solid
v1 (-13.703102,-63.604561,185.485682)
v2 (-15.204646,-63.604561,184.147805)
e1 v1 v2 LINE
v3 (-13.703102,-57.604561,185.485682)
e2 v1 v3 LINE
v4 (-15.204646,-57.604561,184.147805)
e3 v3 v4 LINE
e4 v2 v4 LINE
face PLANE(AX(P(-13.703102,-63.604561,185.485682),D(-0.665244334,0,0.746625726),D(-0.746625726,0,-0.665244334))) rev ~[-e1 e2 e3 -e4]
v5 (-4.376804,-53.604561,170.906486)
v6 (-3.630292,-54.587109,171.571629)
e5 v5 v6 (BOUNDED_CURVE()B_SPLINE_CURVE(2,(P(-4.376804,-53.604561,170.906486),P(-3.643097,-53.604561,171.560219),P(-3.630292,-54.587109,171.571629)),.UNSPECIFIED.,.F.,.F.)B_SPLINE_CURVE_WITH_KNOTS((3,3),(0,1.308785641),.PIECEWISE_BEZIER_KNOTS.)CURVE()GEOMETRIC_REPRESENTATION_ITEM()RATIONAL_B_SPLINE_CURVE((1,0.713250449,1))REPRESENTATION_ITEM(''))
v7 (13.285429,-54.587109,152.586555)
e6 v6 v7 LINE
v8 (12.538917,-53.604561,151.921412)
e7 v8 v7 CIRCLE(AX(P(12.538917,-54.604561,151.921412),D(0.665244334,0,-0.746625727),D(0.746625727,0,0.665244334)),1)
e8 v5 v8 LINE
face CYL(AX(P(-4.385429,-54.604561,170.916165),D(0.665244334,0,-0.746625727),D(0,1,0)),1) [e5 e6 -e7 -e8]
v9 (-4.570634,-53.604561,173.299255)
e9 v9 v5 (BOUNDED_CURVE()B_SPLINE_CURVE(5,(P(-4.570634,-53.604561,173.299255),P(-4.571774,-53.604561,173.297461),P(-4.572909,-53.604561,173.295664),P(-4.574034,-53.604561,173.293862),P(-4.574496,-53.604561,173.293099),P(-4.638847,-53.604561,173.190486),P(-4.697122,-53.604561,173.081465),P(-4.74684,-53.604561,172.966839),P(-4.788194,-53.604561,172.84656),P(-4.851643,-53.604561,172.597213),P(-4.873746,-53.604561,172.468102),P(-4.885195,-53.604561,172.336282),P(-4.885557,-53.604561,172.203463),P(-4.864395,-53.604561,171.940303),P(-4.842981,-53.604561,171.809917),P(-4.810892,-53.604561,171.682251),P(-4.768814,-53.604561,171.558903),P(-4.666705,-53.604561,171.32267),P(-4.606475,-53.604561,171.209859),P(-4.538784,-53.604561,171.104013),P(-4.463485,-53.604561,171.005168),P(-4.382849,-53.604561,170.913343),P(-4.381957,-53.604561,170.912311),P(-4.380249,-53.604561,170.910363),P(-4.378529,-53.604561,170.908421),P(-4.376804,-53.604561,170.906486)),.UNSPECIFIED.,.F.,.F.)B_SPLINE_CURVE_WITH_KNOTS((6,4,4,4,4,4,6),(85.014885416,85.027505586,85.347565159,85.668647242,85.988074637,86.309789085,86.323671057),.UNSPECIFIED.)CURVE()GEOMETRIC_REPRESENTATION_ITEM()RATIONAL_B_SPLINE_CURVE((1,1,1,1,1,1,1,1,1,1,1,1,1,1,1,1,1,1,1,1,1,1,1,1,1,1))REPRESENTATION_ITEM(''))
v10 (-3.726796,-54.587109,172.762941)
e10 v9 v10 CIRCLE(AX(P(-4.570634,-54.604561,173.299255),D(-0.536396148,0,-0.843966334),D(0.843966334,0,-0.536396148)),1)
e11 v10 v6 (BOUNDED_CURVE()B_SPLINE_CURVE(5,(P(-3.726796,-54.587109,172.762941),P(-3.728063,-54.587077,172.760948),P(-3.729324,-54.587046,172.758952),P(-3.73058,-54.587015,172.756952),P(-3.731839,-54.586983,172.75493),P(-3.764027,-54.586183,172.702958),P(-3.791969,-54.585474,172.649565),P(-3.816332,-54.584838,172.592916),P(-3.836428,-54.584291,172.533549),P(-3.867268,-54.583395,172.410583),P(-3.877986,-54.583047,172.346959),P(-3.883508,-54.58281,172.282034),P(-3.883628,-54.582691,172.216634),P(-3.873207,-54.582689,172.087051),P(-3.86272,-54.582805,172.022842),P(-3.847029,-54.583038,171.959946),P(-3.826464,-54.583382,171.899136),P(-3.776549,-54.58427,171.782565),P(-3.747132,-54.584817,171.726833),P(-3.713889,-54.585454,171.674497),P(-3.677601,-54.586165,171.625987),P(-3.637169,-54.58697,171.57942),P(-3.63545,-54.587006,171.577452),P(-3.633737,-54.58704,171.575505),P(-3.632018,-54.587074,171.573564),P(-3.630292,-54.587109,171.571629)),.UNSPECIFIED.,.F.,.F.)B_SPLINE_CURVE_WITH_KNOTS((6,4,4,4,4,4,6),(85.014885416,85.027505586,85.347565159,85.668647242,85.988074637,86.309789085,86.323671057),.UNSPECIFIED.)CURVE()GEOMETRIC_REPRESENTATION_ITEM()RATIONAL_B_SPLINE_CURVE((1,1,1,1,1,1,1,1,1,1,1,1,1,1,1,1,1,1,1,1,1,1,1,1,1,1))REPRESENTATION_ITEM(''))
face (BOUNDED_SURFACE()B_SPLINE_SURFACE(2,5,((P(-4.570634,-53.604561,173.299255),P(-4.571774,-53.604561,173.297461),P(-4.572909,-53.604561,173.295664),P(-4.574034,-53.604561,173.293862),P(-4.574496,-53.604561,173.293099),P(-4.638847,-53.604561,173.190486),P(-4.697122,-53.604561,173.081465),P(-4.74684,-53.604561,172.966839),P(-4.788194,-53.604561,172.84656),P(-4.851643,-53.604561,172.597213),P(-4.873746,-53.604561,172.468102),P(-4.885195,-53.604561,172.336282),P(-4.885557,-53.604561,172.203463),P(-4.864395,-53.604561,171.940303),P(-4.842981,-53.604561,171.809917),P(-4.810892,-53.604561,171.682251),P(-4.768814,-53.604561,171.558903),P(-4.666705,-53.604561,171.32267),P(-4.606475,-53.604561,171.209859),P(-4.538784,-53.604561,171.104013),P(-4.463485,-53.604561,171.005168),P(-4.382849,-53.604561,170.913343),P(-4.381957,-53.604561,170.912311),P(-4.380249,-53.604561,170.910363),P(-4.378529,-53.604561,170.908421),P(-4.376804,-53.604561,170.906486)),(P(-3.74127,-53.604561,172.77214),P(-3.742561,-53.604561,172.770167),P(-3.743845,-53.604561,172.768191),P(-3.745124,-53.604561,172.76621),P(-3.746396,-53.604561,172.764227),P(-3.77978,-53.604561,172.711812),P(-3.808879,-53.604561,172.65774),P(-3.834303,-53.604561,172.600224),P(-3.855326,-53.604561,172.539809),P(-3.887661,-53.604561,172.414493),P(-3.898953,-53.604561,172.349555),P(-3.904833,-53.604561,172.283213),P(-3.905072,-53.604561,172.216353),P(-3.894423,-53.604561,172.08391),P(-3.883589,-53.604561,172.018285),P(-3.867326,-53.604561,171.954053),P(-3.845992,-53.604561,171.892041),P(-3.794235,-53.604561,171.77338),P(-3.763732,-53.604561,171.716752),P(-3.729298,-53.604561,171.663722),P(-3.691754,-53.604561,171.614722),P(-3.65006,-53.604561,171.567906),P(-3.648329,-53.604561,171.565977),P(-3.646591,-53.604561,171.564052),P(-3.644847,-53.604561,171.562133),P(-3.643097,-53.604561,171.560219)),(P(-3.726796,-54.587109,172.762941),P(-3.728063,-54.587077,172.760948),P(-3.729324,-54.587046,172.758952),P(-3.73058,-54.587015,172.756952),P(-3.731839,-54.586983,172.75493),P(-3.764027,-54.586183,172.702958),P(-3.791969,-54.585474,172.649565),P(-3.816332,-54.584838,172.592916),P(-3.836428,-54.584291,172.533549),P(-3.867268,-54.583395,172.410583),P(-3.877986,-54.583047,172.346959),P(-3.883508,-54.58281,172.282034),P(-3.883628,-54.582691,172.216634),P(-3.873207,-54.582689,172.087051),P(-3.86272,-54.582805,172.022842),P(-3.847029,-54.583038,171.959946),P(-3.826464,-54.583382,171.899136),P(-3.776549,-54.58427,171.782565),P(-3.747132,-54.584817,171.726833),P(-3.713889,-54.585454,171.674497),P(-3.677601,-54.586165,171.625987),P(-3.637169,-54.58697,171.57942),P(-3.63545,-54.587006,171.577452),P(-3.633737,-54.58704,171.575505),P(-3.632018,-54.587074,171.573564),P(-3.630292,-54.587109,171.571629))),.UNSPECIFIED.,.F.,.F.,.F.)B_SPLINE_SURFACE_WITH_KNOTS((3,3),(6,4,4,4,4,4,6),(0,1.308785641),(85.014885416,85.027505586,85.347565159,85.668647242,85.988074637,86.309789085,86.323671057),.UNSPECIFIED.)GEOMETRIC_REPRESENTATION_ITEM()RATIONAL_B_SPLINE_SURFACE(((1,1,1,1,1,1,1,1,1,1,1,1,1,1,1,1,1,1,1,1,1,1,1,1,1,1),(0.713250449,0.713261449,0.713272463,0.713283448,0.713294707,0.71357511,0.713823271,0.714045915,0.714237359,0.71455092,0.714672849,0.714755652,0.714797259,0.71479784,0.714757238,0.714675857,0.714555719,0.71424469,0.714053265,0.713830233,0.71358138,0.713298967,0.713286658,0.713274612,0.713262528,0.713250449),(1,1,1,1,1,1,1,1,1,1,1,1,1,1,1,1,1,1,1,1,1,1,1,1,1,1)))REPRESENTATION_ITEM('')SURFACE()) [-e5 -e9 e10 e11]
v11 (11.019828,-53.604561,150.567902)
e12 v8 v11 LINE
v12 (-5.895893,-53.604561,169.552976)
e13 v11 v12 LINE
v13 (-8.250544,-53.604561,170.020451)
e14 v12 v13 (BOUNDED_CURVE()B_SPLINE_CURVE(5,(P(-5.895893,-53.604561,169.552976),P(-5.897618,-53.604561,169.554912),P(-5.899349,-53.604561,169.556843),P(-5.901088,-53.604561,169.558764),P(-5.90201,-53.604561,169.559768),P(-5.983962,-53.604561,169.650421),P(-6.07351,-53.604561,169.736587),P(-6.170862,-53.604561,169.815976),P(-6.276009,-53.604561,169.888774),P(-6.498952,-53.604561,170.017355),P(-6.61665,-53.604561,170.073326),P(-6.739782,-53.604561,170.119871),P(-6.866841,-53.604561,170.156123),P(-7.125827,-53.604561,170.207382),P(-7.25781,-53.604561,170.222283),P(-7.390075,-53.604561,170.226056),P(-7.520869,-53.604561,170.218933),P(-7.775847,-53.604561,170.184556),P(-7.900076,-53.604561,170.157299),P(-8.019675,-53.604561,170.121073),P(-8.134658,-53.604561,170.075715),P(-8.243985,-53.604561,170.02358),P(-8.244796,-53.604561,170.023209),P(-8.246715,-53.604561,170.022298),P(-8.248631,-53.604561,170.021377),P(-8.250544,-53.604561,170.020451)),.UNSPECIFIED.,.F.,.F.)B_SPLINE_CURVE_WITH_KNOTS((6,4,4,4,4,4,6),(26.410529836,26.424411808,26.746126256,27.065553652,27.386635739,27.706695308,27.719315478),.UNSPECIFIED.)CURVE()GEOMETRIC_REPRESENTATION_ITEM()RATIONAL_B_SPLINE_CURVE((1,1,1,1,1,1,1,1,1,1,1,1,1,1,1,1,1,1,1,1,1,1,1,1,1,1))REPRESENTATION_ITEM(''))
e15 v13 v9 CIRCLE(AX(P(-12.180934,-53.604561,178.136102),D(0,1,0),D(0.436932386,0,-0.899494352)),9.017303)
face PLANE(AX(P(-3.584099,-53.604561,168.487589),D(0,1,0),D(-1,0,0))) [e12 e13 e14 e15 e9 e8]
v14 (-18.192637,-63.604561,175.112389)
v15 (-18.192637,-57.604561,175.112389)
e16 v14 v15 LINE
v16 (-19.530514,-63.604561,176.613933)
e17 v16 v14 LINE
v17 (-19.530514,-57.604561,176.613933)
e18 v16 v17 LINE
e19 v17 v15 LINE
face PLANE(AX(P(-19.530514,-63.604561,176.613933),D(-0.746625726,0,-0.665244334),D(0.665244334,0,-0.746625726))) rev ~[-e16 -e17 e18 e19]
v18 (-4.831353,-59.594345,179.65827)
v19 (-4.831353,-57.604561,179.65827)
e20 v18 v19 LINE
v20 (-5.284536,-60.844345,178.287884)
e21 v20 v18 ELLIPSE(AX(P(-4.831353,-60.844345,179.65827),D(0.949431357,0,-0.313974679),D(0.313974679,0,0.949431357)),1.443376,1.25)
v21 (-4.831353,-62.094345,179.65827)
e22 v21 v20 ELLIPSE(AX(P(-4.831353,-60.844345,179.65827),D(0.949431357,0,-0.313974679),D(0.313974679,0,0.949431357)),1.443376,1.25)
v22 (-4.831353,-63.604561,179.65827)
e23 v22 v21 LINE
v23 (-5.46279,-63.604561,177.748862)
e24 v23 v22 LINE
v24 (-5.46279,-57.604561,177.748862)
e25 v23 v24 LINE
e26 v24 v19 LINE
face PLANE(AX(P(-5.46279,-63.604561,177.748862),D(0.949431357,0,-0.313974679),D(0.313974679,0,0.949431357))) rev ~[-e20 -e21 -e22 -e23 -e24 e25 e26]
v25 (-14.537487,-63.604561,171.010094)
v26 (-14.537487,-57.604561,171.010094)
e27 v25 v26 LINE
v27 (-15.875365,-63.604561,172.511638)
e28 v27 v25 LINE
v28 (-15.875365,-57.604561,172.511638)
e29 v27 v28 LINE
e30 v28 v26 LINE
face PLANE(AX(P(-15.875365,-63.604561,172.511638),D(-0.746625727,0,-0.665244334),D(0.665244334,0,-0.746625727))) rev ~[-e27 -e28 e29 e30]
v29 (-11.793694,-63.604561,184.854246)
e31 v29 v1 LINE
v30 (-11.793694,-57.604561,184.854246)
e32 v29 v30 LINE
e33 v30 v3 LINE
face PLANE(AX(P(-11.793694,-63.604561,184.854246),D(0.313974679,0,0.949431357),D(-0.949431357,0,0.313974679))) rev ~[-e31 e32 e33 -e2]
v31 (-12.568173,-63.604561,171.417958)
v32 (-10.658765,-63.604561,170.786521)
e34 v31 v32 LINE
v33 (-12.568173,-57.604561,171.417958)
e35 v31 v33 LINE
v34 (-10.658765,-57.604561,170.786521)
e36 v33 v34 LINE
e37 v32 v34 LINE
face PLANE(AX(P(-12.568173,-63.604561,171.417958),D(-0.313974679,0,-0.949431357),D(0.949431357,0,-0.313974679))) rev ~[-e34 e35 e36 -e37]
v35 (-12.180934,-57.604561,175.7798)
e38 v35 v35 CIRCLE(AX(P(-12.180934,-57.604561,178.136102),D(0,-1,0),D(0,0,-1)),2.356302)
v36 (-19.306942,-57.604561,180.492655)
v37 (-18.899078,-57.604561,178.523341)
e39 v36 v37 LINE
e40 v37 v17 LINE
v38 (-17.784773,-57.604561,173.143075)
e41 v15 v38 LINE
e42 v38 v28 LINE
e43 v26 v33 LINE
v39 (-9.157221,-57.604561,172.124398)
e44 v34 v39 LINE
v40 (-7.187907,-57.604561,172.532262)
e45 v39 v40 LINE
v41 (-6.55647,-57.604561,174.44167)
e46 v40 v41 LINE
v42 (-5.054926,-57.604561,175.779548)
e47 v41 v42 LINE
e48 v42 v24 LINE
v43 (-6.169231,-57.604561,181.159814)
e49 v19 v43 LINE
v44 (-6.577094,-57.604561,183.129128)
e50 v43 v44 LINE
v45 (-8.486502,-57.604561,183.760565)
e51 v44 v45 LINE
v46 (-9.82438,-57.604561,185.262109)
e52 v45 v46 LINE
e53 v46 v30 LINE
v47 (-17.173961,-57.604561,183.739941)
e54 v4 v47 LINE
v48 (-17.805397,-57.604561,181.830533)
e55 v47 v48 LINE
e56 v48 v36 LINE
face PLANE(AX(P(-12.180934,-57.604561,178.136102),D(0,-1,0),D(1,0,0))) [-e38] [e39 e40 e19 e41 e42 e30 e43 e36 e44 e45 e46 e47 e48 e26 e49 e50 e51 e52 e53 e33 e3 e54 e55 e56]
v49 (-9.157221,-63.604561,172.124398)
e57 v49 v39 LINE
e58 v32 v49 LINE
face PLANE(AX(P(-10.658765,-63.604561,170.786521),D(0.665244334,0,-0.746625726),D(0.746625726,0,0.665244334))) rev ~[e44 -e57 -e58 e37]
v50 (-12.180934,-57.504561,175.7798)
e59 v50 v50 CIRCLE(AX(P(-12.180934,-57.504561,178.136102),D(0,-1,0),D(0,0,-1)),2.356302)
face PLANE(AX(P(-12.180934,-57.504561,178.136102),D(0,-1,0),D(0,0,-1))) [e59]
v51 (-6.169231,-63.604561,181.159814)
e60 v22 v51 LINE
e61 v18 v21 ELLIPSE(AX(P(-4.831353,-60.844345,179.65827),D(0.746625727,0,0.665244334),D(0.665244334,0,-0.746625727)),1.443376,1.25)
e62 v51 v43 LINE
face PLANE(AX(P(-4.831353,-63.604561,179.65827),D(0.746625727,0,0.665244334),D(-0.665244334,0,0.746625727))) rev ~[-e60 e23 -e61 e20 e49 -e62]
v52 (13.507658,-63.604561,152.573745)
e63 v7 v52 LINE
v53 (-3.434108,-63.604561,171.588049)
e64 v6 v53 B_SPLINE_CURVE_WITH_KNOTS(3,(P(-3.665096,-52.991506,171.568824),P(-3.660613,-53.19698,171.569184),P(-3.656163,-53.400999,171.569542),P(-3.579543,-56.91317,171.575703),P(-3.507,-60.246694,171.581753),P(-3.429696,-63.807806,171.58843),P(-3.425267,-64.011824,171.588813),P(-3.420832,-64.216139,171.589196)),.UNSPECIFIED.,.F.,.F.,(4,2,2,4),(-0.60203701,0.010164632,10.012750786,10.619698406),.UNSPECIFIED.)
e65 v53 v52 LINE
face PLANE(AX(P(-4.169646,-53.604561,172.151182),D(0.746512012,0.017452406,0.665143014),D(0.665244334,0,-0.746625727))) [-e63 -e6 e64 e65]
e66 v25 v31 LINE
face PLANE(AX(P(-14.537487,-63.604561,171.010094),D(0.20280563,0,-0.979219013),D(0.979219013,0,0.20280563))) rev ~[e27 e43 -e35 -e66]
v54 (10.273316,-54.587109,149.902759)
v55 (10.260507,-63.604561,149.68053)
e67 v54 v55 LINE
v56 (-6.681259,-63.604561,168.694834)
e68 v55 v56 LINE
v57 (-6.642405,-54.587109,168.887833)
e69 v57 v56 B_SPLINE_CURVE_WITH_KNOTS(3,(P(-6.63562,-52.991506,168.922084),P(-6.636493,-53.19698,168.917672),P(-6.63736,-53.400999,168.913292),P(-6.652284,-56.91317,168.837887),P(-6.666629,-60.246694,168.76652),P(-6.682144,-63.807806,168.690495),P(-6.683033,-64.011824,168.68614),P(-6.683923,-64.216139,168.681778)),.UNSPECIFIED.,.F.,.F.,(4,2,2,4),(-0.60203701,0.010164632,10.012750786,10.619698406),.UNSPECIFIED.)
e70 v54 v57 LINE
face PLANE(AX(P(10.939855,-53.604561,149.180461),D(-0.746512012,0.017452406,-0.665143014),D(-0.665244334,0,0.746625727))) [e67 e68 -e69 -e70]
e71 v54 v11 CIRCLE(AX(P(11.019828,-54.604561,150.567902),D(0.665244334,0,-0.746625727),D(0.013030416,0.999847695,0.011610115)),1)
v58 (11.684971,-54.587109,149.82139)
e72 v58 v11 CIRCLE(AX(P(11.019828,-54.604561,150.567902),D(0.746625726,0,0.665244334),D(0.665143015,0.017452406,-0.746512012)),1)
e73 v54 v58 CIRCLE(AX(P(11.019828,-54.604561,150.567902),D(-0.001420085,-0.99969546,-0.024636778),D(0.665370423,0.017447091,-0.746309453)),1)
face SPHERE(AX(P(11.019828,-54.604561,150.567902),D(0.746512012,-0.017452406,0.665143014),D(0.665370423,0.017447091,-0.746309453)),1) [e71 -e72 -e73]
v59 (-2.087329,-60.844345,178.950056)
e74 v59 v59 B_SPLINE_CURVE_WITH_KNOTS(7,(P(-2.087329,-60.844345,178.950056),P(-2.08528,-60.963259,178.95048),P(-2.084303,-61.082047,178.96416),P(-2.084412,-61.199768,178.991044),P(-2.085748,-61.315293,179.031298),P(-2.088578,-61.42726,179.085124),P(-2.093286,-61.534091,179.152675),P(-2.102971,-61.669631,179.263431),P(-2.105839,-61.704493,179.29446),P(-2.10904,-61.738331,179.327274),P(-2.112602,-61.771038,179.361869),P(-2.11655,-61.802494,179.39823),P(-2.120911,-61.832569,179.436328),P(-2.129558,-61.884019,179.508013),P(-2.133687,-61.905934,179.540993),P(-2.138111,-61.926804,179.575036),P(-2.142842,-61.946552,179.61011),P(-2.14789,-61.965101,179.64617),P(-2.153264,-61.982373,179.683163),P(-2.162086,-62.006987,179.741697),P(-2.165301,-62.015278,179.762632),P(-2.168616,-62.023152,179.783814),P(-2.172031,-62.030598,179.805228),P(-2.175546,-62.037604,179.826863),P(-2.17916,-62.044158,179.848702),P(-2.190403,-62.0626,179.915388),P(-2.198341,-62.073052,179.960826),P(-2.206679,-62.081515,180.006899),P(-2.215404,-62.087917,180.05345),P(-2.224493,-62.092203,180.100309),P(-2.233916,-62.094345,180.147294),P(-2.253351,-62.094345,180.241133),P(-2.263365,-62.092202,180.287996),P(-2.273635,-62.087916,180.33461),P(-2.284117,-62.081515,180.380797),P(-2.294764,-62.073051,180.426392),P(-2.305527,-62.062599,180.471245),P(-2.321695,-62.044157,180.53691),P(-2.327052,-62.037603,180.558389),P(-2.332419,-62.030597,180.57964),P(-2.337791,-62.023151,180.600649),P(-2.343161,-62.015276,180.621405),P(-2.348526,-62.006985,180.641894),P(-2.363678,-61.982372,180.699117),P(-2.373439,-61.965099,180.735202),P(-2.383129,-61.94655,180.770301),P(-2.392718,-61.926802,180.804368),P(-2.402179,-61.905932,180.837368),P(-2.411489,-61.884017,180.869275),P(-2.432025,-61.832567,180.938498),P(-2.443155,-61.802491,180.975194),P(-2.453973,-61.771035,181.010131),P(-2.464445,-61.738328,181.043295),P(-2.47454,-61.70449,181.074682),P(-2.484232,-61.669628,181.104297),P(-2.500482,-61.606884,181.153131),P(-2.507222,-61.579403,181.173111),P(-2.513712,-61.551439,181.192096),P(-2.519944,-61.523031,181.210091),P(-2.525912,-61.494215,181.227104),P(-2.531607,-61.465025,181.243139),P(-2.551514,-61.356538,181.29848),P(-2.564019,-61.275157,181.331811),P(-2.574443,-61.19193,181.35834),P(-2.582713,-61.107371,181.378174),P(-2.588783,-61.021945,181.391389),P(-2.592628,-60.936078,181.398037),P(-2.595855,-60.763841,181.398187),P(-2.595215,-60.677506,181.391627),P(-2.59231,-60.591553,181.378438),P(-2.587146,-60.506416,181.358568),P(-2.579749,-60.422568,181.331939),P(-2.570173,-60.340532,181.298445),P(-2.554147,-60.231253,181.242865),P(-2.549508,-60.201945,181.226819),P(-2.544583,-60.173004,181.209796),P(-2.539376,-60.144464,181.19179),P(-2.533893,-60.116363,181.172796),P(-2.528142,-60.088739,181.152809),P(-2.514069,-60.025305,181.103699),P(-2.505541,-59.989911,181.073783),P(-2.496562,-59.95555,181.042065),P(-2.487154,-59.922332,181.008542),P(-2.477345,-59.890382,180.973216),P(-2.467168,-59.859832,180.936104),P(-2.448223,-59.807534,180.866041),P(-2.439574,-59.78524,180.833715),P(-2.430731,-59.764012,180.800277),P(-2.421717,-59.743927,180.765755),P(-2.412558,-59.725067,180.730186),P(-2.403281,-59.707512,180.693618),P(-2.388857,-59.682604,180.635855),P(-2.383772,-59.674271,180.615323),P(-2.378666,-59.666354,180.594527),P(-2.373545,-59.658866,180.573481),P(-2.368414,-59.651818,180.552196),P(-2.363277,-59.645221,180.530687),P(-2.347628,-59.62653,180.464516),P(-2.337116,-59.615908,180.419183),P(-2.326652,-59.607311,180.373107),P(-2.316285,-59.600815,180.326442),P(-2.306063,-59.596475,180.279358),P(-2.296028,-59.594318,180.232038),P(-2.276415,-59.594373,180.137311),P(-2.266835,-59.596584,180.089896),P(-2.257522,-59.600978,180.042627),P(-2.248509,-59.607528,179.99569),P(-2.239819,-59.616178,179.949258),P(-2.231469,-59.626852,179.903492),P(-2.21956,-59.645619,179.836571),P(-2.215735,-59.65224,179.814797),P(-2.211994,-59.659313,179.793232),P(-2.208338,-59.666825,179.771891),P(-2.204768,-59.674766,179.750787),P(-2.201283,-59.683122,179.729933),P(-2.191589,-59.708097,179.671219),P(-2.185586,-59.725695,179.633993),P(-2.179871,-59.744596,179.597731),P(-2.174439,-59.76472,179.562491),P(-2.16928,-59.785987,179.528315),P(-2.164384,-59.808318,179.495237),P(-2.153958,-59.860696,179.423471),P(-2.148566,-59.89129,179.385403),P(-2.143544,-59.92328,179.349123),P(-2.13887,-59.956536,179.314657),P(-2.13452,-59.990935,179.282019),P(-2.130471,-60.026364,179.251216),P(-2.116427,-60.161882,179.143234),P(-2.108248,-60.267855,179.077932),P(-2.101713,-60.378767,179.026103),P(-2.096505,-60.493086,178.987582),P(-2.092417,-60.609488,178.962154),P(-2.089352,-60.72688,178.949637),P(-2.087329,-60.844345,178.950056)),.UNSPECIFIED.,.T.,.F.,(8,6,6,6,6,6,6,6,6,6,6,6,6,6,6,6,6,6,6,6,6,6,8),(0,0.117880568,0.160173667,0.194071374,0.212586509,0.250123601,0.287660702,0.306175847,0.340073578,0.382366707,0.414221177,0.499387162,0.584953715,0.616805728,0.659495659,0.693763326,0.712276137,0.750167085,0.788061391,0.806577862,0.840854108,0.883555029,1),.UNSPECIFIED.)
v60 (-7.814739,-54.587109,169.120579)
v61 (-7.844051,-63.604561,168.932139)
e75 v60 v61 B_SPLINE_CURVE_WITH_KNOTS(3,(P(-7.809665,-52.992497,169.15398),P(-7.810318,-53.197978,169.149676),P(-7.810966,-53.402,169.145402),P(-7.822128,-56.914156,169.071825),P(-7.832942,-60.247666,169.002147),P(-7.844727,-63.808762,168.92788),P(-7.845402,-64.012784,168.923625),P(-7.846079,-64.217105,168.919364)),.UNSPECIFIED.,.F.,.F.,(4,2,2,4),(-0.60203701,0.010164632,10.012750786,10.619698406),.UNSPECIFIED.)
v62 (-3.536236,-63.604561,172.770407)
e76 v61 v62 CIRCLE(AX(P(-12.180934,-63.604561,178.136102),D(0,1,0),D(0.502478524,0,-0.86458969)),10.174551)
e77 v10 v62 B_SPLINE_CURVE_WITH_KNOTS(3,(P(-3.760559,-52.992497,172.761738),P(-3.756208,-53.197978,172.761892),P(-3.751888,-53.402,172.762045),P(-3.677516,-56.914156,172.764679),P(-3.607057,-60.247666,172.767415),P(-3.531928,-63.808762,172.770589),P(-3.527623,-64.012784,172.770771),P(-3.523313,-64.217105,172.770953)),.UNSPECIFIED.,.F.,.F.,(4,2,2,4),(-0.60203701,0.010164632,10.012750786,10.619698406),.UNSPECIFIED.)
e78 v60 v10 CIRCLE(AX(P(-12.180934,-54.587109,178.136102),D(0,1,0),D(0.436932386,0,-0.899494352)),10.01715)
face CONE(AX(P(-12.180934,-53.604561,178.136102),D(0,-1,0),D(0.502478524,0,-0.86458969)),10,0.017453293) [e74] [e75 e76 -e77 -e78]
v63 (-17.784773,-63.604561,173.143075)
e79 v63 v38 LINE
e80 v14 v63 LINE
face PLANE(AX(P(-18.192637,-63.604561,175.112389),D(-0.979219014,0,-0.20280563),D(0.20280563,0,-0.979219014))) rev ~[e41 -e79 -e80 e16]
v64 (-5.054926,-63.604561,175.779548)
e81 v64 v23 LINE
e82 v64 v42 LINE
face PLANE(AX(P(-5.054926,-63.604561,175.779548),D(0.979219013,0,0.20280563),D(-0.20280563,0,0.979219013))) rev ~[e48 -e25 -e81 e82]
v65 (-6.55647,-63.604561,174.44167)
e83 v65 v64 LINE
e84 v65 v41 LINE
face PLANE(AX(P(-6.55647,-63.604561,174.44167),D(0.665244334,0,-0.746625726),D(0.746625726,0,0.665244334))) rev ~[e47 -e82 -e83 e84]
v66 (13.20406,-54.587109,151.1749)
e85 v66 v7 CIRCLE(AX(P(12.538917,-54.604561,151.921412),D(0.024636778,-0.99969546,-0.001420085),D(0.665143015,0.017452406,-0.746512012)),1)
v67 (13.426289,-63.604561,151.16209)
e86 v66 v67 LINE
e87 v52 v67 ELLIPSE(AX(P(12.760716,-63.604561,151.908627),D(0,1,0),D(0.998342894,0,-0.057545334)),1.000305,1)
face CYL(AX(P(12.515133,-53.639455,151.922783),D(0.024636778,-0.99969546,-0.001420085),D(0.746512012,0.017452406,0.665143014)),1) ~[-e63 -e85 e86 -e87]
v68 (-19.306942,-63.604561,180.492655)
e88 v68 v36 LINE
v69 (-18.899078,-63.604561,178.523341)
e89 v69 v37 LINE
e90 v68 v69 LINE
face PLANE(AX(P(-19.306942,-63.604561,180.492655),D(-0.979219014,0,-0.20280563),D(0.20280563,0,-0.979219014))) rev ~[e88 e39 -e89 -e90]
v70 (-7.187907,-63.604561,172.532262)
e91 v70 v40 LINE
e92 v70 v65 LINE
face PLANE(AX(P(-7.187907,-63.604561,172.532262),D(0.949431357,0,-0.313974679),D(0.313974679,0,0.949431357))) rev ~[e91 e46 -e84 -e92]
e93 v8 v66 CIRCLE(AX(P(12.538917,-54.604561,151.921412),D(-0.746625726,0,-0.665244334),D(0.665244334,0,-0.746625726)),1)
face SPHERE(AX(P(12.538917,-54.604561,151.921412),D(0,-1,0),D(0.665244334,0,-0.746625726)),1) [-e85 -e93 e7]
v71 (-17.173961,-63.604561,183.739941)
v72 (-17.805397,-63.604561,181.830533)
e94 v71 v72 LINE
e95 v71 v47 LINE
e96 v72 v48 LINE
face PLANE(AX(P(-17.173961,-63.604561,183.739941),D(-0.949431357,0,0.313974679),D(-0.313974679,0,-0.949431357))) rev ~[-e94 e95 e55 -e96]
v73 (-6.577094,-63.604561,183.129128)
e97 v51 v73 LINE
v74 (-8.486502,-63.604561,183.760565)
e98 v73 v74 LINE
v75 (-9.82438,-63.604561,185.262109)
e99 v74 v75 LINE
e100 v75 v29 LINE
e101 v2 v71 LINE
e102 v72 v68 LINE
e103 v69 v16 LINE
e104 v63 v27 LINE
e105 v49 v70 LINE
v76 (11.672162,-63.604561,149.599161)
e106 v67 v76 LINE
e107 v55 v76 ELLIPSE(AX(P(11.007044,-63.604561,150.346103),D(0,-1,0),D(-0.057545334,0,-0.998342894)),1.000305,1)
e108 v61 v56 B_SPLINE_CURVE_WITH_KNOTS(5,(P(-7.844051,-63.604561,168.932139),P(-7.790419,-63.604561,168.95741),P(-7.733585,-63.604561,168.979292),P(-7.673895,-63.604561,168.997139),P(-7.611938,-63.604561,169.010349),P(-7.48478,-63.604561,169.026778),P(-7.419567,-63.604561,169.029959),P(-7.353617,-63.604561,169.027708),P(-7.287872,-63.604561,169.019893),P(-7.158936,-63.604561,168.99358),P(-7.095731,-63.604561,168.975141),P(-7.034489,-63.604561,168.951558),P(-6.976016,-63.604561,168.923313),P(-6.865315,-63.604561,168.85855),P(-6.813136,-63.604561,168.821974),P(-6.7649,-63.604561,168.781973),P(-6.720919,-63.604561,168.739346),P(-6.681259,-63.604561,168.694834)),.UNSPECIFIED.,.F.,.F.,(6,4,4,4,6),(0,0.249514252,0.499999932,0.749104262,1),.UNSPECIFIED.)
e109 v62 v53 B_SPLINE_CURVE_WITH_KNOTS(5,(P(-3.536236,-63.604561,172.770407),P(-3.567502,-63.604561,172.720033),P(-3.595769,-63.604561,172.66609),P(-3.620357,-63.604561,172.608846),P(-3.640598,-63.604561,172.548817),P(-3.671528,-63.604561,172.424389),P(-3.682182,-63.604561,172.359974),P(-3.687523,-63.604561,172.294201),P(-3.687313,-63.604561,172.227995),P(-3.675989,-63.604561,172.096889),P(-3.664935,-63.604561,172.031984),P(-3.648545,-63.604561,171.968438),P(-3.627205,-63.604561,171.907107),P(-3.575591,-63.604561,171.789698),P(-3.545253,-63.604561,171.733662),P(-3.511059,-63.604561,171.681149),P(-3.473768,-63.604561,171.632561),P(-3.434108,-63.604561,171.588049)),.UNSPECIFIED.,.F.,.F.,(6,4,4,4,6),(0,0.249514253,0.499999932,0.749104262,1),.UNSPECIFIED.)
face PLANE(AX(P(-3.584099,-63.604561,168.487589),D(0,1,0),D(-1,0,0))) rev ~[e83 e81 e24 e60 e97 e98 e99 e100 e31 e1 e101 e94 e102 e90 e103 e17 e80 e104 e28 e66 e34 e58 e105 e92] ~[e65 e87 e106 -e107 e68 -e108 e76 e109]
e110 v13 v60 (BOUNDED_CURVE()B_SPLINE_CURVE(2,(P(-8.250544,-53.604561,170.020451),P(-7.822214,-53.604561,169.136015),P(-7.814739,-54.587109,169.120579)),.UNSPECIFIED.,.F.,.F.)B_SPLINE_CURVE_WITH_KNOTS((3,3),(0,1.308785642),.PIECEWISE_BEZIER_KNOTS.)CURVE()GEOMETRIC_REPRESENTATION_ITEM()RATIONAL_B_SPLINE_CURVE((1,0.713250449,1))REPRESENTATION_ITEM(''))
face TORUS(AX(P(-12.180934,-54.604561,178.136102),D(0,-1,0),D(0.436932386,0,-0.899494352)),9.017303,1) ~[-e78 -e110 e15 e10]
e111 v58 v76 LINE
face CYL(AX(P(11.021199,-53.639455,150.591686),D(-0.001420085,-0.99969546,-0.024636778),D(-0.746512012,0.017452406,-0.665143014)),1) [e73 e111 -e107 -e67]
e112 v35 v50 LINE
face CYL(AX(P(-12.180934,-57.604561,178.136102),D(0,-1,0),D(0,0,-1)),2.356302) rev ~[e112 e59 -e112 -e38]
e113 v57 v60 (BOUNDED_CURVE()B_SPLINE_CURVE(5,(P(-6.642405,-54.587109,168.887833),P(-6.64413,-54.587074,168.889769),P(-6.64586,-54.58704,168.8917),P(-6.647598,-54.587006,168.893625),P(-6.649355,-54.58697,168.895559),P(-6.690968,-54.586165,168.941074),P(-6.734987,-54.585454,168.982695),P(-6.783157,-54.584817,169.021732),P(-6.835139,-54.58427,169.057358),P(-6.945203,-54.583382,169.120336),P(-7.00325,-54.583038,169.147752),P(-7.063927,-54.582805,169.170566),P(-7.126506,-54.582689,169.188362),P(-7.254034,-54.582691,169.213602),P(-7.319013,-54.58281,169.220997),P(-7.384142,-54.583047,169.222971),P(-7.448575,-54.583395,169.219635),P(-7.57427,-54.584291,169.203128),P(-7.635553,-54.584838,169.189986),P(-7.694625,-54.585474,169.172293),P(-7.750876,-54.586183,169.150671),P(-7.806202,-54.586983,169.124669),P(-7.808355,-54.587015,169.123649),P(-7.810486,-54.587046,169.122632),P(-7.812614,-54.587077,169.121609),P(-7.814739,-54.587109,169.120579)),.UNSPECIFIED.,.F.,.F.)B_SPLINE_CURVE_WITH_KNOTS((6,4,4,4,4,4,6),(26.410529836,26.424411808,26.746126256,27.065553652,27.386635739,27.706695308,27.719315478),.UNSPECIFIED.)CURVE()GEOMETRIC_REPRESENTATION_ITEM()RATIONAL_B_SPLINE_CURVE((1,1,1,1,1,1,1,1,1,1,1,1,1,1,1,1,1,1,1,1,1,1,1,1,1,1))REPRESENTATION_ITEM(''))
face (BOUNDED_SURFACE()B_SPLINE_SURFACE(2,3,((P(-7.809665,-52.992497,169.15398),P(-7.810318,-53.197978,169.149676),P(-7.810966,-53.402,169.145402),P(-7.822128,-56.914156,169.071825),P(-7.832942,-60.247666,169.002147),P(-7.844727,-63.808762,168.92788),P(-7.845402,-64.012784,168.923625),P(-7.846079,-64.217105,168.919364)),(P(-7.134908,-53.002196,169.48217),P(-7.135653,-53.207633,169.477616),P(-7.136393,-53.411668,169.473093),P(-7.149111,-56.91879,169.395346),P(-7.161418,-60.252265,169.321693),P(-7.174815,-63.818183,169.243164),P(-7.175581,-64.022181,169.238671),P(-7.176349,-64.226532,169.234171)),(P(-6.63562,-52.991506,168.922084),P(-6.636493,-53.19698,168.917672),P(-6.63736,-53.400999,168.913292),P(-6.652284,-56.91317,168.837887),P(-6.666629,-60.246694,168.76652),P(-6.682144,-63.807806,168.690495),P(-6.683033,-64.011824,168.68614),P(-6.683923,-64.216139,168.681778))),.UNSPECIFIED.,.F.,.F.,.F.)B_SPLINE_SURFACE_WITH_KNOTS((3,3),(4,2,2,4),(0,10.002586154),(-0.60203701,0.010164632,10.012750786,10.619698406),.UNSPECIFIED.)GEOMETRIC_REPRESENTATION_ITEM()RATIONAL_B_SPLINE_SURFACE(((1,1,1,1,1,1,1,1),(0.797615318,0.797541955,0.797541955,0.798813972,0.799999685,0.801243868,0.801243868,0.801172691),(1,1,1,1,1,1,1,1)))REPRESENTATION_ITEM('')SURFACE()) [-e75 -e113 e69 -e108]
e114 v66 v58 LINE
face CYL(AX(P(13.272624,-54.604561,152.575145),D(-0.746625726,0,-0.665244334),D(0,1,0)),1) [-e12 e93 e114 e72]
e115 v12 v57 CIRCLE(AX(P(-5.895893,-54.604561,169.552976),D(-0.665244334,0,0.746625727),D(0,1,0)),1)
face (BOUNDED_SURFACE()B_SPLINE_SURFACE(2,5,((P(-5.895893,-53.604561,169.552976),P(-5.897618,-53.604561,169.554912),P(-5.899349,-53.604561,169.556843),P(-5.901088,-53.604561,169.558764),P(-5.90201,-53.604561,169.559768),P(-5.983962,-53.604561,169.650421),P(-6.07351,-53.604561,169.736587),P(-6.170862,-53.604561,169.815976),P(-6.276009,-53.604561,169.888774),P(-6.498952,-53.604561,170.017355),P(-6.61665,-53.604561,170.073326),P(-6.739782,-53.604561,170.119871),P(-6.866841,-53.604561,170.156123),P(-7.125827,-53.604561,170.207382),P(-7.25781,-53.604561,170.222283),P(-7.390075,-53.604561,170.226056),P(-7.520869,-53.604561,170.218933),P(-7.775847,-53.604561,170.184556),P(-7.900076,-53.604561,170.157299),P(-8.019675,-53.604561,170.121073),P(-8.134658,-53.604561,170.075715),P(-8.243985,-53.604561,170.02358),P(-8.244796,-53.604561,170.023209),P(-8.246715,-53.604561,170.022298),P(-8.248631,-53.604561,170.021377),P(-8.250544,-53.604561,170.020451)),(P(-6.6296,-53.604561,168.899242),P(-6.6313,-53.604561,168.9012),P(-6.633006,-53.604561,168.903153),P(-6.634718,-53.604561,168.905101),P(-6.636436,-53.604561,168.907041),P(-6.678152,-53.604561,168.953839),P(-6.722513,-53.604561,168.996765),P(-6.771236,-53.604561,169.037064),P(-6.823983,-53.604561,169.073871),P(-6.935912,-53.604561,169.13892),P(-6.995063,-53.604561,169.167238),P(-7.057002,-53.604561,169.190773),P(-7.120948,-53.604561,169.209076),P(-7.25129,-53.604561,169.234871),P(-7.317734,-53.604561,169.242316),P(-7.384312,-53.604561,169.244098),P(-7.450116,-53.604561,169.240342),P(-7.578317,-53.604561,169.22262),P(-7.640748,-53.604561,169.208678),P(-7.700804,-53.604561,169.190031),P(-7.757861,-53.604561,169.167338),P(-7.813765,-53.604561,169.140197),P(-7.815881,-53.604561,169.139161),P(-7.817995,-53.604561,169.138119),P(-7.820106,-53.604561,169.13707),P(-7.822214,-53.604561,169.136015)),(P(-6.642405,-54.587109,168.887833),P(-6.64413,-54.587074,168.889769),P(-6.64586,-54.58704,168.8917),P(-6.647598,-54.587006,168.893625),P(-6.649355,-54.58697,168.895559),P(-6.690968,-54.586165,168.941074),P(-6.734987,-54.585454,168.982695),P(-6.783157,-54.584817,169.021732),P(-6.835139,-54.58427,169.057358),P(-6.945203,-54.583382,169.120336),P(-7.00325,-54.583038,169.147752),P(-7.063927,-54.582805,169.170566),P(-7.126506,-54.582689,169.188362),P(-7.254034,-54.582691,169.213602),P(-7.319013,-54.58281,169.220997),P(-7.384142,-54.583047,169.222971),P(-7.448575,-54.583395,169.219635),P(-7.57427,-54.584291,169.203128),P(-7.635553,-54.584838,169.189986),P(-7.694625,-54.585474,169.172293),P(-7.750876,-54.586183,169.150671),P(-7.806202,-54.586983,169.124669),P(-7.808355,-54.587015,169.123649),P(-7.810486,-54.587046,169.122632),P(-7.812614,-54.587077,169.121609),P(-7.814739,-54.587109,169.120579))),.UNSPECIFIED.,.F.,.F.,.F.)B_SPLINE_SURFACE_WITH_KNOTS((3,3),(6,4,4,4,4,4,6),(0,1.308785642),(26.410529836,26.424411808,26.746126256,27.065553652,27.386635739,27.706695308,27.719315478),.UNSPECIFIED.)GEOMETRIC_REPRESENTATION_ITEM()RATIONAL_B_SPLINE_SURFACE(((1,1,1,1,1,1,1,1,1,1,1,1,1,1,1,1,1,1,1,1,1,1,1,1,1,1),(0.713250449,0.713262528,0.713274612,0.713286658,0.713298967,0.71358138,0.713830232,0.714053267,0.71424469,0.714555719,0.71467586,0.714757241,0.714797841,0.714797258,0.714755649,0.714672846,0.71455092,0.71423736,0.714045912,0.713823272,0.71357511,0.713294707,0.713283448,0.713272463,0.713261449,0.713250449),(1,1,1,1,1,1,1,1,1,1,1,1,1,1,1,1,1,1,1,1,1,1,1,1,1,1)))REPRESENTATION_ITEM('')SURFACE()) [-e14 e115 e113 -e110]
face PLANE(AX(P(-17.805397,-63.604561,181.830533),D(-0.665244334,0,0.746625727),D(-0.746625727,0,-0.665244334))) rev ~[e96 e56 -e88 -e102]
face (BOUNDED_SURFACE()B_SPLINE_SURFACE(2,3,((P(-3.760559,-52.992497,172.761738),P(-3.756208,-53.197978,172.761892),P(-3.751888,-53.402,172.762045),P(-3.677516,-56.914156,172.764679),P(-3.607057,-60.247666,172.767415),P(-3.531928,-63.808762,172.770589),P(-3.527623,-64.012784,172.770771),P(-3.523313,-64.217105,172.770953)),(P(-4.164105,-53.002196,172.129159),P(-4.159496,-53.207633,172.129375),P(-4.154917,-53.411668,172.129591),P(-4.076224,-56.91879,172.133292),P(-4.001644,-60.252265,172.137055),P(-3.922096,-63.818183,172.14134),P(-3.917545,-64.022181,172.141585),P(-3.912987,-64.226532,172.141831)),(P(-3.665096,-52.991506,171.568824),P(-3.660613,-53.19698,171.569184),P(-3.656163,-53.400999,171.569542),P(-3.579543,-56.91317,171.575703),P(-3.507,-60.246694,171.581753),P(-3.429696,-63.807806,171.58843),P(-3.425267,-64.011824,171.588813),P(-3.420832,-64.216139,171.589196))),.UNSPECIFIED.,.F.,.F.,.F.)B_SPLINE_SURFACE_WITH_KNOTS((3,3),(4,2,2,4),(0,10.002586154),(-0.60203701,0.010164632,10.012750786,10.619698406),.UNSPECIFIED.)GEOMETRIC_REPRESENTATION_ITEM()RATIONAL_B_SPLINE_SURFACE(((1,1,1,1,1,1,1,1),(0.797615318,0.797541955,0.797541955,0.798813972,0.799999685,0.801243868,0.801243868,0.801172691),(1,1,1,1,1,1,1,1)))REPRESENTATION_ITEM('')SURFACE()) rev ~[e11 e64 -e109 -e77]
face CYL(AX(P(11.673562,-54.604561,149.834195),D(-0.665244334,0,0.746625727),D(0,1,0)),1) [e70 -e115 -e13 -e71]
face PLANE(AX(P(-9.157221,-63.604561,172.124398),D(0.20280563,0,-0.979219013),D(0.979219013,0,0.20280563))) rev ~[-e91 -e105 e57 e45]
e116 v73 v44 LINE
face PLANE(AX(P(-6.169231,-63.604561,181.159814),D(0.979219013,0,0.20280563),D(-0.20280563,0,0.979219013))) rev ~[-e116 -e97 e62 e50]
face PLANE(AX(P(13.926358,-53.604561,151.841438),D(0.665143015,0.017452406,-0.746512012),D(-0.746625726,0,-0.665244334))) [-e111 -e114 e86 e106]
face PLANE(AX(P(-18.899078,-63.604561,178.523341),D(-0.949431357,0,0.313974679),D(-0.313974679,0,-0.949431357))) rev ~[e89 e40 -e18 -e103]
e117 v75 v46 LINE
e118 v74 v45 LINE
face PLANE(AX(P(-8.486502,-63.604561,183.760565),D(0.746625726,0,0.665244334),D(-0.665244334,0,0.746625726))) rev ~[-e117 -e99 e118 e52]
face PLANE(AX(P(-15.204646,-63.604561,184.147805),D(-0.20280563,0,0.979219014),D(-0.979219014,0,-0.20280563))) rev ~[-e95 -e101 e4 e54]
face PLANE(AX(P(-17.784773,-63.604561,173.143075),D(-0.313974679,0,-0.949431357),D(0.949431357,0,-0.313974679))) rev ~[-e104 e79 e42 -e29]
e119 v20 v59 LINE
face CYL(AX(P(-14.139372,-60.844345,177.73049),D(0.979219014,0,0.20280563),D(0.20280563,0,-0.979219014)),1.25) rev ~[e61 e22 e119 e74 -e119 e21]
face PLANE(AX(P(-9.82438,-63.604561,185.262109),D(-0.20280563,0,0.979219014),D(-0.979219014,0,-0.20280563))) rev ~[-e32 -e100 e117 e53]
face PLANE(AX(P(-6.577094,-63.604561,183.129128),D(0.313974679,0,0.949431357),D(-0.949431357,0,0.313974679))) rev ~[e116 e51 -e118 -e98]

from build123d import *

# Parameters (mm, degrees)
BOSS_EXTRU_1_DEPTH      = 10
BOSS_EXTRU_1_DRAFT      = 1
PER_AGE1_D              = 13
PER_AGE1_DEPTH          = 6
CONG_1_R                = 0.991556173
CONG_2_R                = 0.991556172
CONG_3_R                = 1
ENL_V_MAT_EXTRU_1_DEPTH = 6
ESQUISSE7_R             = 2.35630159
ENL_V_MAT_EXTRU_2_DEPTH = 0.1
TROU_TARAUD_M31_D       = 2.5
TROU_TARAUD_M31_DEPTH   = 8.5
TROU_TARAUD_M31_TIP     = 0.751075774


with BuildPart() as part:
    # Esquisse1 → Boss.-Extru.1 (with draft: the straight prism first)
    with BuildSketch(Plane(origin=(0, -53.604561249, 0), x_dir=(-1, 0, 0), z_dir=(0, 1, 0))):
        with BuildLine():
            Line((4.169645588, 172.151181972), (-13.92635809, 151.841438325))
            Line((-13.92635809, 151.841438325), (-10.939855184, 149.180460987))
            Line((-10.939855184, 149.180460987), (7.156148495, 169.490204634))
            ThreePointArc((7.156148495, 169.490204634), (18.83337708, 185.602358804), (4.169645588, 172.151181972))
        make_face()
    extrude(amount=-BOSS_EXTRU_1_DEPTH)
    # Boss.-Extru.1: the draft: its side faces are tilted about the plane it starts from
    boss_extru_1_sides = [part.faces().sort_by_distance(p)[0] for p in [
        (4.878356251, -58.604561249, 161.996310148),
        (12.433106637, -58.604561249, 150.510949656),
        (1.891853345, -58.604561249, 159.33533281),
        (-18.83337708, -58.604561249, 185.602358804),
    ]]
    draft(boss_extru_1_sides, Plane(origin=(0, -53.604561249, 0), x_dir=(-1, 0, 0), z_dir=(0, 1, 0)), BOSS_EXTRU_1_DRAFT)

    # Perçage1
    with Locations(Plane.XZ.offset(63.604561249)):
        with Locations((-12.180933736, 178.136101538)):
            Hole(PER_AGE1_D / 2, depth=PER_AGE1_DEPTH)

    # Congé1
    cong_1_edges = [part.edges().sort_by_distance(p)[0] for p in [
        (-7.174076316, -58.604557662, 169.379132828),
    ]]
    fillet(cong_1_edges, radius=CONG_1_R)

    # Congé2
    cong_2_edges = [part.edges().sort_by_distance(p)[0] for p in [
        (-4.057249498, -58.604557662, 172.156228913),
    ]]
    fillet(cong_2_edges, radius=CONG_2_R)

    # Congé3
    cong_3_edges = [part.edges().sort_by_distance(p)[0] for p in [
        (14.049579508, -58.604561249, 151.834335737),
        (12.433106637, -53.604561249, 150.510949656),
        (10.932752597, -58.604561249, 149.057239569),
        (5.137318128, -53.604561249, 161.705668665),
        (2.150815222, -53.604561249, 159.044691328),
        (-3.899737977, -53.604561249, 172.149959021),
        (-7.185946015, -53.604561249, 169.221944085),
        (-18.83337708, -53.604561249, 185.602358804),
    ]]
    fillet(cong_3_edges, radius=CONG_3_R)

    # Esquisse6 → Enlèv. mat.-Extru.1 (cut)
    with BuildSketch(Plane.XZ.offset(63.604561249)):
        Polygon((-6.577094401, 183.12912848), (-8.486502447, 183.760565155), (-9.824379984, 185.262109379), (-11.793694196, 184.854245557), (-13.703102242, 185.485682232), (-15.204646466, 184.147804695), (-17.173960678, 183.739940873), (-17.805397352, 181.830532827), (-19.306941577, 180.49265529), (-18.899077755, 178.523341078), (-19.530514429, 176.613933032), (-18.192636892, 175.112388808), (-17.78477307, 173.143074596), (-15.875365024, 172.511637922), (-14.537487487, 171.010093697), (-12.568173276, 171.417957519), (-10.658765229, 170.786520845), (-9.157221005, 172.124398382), (-7.187906794, 172.532262204), (-6.556470119, 174.44167025), (-5.054925895, 175.779547787), (-5.462789717, 177.748861998), (-4.831353042, 179.658270044), (-6.169230579, 181.159814269), align=None)
    extrude(amount=-ENL_V_MAT_EXTRU_1_DEPTH, mode=Mode.SUBTRACT)

    # Esquisse7 → Enlèv. mat.-Extru.2 (cut)
    with BuildSketch(Plane.XZ.offset(57.604561249)):
        with Locations(Location((-12.180933736, 178.136101538, 0), (0, 0, 270))):
            Circle(ESQUISSE7_R)
    extrude(amount=-ENL_V_MAT_EXTRU_2_DEPTH, mode=Mode.SUBTRACT)

    # Trou taraudé M31
    with Locations(Plane(origin=(30.587175126, -0.239784127, 3.6865788), x_dir=(-0.20280563003866656, 0, 0.9792190135126153), z_dir=(-0.9792190135126153, 0, -0.20280563003866656))):
        with Locations((179.497902827, -60.604561249)):
            Hole(TROU_TARAUD_M31_D / 2, depth=TROU_TARAUD_M31_DEPTH)
            with Locations((0, 0, -(TROU_TARAUD_M31_DEPTH + TROU_TARAUD_M31_TIP / 2))):  # 118° drill point
                Cone(0, TROU_TARAUD_M31_D / 2, TROU_TARAUD_M31_TIP, mode=Mode.SUBTRACT)


solid = part.part
